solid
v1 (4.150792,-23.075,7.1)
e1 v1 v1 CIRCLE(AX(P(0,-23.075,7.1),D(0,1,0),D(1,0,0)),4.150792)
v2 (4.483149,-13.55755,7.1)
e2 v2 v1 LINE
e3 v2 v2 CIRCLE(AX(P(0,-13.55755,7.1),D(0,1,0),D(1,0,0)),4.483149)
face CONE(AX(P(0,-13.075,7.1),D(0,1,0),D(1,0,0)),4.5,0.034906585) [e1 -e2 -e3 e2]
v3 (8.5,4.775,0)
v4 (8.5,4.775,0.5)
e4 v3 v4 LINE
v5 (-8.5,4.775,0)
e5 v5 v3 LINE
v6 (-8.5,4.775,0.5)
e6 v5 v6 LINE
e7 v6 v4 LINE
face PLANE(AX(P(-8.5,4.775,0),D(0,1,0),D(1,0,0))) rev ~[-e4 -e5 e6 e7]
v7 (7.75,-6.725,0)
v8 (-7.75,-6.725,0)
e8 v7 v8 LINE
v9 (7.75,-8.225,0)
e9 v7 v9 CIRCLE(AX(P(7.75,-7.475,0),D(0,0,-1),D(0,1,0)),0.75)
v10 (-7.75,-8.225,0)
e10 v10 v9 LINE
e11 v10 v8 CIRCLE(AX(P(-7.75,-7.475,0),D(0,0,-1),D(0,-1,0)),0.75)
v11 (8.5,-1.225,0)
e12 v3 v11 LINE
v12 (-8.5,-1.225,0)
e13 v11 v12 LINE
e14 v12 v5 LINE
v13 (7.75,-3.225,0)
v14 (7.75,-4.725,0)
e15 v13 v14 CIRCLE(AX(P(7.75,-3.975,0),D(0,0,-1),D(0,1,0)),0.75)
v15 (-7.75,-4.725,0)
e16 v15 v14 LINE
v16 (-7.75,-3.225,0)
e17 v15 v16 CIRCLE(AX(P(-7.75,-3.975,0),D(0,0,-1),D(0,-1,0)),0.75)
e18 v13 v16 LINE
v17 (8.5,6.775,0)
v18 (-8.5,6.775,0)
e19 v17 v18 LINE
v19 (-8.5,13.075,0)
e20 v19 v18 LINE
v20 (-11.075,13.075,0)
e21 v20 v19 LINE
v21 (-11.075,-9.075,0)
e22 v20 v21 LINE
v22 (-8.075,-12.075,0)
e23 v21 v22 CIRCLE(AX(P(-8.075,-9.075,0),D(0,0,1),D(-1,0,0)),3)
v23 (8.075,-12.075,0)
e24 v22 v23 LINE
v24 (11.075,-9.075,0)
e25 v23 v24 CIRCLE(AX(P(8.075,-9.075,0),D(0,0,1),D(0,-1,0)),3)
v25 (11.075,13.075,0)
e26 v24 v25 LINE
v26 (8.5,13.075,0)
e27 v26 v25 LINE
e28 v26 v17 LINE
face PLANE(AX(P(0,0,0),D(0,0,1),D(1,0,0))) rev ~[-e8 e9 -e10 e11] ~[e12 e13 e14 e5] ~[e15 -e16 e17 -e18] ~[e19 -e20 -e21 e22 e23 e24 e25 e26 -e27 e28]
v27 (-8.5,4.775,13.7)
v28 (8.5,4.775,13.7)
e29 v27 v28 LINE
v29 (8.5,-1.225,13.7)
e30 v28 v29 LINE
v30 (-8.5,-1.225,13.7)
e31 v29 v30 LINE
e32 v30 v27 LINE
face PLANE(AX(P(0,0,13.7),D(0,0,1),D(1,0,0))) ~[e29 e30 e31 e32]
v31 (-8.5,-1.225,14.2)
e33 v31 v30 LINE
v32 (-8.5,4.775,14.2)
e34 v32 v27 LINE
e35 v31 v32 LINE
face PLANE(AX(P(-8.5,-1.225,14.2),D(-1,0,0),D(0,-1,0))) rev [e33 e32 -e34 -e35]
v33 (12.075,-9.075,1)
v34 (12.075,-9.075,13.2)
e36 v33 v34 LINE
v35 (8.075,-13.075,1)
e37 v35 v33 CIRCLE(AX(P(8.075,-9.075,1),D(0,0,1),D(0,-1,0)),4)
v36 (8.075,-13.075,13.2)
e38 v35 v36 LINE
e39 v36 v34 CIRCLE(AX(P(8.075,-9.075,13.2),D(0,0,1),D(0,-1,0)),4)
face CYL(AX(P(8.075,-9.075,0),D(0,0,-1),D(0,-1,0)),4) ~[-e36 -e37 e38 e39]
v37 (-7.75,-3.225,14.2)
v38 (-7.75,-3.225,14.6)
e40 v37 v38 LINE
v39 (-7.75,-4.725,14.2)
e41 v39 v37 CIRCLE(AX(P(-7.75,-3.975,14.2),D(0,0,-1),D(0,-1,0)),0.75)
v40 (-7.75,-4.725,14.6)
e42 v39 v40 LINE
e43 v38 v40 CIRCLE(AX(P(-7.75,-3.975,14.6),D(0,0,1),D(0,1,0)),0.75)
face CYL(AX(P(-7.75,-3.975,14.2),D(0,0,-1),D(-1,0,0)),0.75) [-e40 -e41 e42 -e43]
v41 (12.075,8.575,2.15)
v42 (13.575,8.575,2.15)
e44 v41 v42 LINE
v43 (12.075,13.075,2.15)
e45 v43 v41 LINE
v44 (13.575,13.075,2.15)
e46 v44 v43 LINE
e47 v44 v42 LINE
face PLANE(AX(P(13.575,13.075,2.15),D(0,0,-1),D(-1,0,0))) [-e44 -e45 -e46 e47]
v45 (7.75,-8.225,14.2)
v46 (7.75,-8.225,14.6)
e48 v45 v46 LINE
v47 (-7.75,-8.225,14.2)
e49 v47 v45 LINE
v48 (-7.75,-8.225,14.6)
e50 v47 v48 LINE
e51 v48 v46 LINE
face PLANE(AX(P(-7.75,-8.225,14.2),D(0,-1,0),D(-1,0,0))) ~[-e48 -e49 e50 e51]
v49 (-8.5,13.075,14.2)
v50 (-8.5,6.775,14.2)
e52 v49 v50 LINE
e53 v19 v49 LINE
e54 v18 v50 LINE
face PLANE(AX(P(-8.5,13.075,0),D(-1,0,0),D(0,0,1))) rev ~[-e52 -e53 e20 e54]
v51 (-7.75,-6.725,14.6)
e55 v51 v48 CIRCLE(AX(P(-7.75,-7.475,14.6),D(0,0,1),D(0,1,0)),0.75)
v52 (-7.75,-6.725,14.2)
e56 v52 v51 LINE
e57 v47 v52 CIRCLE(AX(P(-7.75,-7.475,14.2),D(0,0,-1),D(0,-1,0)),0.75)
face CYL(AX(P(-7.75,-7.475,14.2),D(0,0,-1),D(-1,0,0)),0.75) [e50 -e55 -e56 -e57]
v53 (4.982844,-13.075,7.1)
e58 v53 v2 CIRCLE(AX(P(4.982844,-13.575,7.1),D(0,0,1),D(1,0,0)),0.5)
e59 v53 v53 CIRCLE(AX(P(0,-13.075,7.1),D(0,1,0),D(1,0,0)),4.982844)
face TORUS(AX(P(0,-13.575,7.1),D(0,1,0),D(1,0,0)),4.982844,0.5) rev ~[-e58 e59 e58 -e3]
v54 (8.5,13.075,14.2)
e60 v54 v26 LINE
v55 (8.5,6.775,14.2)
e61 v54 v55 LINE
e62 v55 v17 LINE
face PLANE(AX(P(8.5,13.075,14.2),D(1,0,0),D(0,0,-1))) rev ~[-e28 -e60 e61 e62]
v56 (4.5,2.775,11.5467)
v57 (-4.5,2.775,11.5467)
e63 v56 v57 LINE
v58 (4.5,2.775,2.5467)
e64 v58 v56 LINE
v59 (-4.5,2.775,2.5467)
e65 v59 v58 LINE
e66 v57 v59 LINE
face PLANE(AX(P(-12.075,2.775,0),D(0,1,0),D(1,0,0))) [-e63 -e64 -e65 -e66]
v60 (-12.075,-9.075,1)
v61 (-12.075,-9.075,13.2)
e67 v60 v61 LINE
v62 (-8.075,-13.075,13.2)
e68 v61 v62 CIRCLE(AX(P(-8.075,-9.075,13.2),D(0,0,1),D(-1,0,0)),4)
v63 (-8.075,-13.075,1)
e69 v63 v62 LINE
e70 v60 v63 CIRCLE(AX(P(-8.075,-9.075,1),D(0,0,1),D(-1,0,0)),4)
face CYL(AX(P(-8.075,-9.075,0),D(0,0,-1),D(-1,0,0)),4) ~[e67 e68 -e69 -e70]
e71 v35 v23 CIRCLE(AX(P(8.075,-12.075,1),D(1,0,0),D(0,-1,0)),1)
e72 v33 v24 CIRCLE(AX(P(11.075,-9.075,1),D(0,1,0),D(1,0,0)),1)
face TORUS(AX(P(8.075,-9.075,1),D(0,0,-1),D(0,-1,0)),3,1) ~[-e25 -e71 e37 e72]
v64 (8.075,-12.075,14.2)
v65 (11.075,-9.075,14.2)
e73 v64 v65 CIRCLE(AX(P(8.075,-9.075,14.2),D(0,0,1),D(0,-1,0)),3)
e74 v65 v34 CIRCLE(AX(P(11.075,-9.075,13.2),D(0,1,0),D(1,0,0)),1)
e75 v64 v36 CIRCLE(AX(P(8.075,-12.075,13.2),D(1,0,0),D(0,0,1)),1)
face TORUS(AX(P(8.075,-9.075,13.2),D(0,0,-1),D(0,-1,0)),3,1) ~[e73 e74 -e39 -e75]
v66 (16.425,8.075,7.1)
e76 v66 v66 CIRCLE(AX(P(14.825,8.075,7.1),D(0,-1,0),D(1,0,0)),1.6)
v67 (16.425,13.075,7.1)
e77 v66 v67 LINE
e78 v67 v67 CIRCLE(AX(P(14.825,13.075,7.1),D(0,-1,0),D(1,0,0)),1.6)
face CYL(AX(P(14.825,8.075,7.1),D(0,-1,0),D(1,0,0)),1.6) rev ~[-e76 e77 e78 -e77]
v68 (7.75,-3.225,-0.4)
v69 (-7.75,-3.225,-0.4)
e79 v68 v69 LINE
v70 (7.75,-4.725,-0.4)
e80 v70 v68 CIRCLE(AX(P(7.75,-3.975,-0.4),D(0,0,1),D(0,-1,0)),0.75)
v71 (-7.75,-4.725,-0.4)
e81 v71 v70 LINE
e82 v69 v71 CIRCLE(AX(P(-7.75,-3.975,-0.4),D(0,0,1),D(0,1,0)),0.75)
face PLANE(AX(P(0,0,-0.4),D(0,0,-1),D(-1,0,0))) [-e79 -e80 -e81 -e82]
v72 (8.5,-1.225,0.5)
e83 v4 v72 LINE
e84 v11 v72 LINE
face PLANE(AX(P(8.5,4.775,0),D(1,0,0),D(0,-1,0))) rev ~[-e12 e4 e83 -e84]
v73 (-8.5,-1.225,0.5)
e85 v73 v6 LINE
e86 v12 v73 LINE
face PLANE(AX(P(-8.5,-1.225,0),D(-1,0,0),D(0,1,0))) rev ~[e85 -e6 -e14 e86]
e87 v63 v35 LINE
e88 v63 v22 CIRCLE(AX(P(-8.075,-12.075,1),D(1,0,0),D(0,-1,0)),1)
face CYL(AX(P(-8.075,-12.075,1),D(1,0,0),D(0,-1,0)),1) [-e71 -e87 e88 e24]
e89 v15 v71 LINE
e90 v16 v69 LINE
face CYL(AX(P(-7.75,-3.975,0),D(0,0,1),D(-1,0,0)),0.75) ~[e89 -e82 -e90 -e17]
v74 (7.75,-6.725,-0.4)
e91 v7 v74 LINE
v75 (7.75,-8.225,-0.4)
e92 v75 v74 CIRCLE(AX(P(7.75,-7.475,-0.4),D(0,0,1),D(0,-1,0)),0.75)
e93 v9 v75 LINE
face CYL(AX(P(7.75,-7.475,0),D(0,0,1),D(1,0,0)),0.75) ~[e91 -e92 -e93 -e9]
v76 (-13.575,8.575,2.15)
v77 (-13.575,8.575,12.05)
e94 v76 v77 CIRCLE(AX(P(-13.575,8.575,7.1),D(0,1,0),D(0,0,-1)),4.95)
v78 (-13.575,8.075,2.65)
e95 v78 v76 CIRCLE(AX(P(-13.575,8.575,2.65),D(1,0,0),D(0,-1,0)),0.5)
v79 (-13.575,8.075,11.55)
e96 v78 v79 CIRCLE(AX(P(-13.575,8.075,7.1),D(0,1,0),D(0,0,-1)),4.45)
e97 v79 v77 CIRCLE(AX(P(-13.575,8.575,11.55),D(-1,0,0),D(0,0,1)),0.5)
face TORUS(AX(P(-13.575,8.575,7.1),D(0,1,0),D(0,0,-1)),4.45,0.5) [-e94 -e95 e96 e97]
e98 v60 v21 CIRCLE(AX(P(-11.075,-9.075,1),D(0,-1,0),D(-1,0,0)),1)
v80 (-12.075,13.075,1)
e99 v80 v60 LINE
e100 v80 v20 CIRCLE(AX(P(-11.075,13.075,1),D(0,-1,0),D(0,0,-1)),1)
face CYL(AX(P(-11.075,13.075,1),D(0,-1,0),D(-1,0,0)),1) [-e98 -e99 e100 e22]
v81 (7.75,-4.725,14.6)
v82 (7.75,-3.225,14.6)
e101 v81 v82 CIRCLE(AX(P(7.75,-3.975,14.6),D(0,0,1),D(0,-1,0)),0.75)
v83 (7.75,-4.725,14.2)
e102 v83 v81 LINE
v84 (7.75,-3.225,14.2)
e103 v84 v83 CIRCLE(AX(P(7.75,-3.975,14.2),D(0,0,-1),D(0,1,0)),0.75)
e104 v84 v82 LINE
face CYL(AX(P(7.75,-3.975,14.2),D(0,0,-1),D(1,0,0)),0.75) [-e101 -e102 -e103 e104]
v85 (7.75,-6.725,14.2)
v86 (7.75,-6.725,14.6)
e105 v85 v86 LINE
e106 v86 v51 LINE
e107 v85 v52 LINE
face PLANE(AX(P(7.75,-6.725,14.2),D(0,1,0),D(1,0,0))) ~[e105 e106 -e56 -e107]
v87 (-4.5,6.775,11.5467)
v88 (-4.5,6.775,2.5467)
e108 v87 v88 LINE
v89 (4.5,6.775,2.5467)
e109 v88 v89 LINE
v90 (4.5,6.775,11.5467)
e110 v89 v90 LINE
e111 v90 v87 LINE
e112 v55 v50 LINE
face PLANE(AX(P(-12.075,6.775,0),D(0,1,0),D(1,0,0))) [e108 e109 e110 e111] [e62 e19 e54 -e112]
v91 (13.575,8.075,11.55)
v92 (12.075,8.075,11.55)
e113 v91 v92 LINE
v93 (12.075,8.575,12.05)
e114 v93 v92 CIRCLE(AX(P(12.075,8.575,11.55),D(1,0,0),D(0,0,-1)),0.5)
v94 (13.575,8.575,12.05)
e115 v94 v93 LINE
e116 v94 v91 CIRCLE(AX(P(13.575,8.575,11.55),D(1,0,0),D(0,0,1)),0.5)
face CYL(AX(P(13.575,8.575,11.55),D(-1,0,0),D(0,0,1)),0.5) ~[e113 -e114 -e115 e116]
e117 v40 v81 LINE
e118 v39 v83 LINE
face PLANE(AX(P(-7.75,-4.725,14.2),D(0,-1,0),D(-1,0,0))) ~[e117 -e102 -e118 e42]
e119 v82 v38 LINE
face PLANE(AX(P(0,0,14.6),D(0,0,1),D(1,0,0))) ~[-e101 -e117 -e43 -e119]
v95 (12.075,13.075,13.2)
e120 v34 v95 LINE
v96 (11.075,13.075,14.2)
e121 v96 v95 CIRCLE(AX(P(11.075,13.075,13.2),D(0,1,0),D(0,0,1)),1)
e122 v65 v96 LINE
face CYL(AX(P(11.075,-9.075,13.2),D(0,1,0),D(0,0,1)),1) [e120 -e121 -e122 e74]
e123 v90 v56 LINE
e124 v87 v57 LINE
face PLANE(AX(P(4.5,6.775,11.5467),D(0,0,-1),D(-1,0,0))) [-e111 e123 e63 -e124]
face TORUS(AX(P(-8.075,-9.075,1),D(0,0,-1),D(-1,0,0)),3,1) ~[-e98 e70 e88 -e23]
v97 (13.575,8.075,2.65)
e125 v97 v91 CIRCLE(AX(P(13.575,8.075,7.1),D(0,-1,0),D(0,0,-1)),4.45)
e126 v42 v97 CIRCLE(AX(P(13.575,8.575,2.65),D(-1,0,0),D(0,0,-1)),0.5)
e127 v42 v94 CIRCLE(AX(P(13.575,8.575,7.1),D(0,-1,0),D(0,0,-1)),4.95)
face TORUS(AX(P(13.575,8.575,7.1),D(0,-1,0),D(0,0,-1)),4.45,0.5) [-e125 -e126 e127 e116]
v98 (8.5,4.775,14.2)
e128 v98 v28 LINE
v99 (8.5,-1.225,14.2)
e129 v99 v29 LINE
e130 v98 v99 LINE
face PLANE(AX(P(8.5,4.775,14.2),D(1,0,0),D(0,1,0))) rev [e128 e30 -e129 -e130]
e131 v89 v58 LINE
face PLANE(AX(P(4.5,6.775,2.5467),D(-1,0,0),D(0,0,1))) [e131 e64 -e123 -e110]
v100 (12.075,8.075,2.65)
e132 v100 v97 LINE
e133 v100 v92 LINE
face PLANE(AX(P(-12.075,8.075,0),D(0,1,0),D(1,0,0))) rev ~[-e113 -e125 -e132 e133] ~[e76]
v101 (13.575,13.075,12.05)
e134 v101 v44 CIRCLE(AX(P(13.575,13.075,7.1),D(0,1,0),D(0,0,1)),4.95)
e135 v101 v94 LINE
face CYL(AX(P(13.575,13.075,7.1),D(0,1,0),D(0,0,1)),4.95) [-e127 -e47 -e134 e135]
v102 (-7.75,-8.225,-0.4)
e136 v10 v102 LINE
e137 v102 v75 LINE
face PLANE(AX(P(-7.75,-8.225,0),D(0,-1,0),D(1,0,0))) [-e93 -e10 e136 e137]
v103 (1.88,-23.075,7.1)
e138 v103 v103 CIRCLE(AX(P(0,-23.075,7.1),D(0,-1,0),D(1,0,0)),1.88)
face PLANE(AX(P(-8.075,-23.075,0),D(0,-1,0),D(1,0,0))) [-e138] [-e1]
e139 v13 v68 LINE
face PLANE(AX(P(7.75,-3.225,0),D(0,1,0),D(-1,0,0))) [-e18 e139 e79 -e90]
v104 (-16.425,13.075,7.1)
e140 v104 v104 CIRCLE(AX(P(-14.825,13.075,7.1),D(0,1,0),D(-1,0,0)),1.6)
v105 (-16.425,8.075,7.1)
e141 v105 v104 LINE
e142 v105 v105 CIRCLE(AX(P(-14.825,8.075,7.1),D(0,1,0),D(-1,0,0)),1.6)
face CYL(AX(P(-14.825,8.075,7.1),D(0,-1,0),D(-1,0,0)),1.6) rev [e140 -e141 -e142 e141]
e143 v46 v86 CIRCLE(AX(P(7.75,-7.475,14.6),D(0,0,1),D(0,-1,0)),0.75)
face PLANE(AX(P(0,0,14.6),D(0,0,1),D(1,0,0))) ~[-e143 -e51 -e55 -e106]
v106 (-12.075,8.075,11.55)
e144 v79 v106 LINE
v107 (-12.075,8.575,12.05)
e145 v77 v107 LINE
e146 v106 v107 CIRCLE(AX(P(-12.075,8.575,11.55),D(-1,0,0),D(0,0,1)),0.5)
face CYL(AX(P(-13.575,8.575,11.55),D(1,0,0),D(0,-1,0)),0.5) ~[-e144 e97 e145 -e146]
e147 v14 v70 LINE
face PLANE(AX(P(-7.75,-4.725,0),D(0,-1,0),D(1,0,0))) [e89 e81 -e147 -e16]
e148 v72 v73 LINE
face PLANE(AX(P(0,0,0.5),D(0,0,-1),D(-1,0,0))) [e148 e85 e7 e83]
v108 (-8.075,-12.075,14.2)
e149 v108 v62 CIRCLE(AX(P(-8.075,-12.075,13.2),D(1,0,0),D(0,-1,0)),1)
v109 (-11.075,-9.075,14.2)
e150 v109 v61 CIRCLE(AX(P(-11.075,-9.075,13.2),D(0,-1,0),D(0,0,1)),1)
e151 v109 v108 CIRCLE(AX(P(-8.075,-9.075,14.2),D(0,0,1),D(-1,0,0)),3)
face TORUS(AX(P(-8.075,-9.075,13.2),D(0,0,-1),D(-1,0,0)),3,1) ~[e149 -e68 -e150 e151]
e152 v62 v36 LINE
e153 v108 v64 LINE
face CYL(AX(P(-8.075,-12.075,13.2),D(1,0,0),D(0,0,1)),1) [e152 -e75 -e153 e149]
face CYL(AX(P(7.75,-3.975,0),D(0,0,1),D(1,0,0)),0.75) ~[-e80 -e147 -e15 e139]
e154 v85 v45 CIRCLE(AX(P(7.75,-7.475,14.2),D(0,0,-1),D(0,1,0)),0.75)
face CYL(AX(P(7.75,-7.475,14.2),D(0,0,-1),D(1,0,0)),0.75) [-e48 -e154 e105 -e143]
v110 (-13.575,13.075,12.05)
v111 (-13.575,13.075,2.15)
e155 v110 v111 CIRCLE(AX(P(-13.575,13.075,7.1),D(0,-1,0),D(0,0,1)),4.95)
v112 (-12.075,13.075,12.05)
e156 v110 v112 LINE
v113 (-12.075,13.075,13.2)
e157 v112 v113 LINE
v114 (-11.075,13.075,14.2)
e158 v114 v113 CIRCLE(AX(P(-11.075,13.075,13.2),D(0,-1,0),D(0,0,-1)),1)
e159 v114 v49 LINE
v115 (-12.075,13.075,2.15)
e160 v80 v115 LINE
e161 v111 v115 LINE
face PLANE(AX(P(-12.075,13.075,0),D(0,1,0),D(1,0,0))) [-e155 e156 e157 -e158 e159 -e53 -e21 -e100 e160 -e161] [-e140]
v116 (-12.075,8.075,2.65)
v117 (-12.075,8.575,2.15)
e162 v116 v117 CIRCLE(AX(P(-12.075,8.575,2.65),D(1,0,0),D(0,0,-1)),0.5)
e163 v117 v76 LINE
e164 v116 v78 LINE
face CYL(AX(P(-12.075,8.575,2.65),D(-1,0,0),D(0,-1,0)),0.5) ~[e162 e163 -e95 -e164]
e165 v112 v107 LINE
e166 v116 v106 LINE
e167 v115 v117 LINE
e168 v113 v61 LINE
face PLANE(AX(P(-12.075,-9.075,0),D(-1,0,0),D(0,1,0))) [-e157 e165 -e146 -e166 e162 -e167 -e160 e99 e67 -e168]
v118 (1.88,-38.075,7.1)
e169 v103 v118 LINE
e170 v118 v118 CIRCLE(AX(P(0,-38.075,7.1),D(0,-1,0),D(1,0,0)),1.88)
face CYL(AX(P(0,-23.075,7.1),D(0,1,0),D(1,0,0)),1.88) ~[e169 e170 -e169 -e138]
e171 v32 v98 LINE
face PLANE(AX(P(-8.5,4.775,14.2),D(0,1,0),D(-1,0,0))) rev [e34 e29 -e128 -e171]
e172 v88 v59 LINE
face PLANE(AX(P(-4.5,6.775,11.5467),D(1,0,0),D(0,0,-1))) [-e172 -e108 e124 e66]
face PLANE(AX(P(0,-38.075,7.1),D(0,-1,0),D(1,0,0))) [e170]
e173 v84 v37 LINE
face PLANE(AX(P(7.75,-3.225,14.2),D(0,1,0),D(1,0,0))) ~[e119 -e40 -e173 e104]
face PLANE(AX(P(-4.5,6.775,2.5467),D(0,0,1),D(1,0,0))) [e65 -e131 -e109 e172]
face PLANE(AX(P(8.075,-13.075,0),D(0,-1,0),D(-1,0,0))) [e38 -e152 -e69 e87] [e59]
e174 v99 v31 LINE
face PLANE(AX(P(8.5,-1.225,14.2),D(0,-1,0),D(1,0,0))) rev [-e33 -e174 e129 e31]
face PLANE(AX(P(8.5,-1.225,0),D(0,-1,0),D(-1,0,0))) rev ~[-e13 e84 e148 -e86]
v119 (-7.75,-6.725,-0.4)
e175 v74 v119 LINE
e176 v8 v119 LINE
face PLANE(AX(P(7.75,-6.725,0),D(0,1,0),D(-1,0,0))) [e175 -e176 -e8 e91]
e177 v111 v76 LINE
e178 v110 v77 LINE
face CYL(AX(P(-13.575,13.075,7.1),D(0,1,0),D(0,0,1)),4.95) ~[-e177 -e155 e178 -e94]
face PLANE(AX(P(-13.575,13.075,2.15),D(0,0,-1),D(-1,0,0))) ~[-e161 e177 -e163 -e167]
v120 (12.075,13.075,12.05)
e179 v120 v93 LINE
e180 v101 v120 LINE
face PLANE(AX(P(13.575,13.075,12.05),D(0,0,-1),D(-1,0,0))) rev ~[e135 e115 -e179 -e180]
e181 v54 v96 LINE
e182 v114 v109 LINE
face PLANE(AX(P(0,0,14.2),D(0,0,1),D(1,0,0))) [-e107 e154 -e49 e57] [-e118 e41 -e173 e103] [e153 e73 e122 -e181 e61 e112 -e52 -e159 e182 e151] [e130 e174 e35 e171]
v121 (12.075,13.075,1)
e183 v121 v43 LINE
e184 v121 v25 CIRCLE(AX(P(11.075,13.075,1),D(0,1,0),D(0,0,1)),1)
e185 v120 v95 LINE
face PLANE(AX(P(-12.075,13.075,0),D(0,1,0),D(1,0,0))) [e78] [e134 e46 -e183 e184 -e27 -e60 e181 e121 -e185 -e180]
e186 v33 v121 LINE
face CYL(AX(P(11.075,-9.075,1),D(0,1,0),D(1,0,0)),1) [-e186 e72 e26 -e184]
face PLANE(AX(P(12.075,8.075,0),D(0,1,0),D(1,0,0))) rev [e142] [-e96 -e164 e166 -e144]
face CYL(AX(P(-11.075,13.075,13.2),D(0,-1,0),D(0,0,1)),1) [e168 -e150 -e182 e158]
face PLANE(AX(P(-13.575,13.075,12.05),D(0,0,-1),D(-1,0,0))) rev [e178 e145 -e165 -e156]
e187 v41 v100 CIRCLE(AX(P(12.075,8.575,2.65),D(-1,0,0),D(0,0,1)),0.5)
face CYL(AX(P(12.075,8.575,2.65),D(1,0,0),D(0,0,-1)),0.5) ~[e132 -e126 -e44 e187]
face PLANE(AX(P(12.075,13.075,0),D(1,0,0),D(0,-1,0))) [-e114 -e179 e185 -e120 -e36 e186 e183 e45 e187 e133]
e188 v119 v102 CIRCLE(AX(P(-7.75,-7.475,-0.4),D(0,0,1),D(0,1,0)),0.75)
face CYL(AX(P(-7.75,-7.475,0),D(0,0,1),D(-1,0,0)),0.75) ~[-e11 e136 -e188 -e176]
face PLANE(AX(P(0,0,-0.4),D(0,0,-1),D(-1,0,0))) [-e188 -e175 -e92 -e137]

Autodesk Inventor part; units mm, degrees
ref_plane "YZ Plane" through (0, 0, 0) normal (1, 0, 0) x (0, 1, 0)
ref_plane "XZ Plane" through (0, 0, 0) normal (0, 1, 0) x (-1, 0, 0)
sketch "Sketch1" plane through (0, 0, 0) normal (0, 0, 1) x (1, 0, 0)
  line L0 (8.075, -13.075) -> (-8.075, -13.075)
  line L1 (-12.075, -9.075) -> (-12.075, 13.075)
  line L2 (-12.075, 13.075) -> (12.075, 13.075)
  line L3 (12.075, 13.075) -> (12.075, -9.075)
  line L4 (12.075, -13.075) -> (-12.075, 13.075) construction
  line L5 (-12.075, -13.075) -> (12.075, 13.075) construction
  arc A0 (-12.075, -9.075) -> (-8.075, -13.075) centre (-8.075, -9.075) ccw
  arc A1 (8.075, -13.075) -> (12.075, -9.075) centre (8.075, -9.075) ccw
  point P0 (0, 0)
  dimension "d0" = 24.15
  dimension "d1" = 26.15
  dimension "d2" = 4
extrude "Extrusion1" add sketch "Sketch1" along normal blind 14.2
sketch "Sketch2" plane through (-12.075, 13.075, 0) normal (0, 1, 0) x (1, 0, 0)
  line L0 (24.15, 0) -> (24.15, -14.2) construction
  line L1 (24.15, 0) -> (0, 0) construction
  line L2 (4, -14.2) -> (20.15, -14.2) construction
  line L3 (12.075, -14.2) -> (12.075, 8.7449) construction
  arc A0 (25.65, -12.05) -> (25.65, -2.15) centre (25.65, -7.1) ccw
  line L4 (24.15, 0) -> (24.15, -14.2) construction
  line L5 (24.15, -7.1) -> (-4.8998, -7.1) construction
  line L6 (30.6, -19.6482) -> (30.6, 9.5146) construction
  line L7 (25.65, -2.15) -> (24.15, -2.15)
  line L8 (25.65, -12.05) -> (24.15, -12.05)
  line L9 (24.15, -2.15) -> (24.15, -12.05)
  point P0 (12.075, 0)
  dimension "d5" = 9.9
  dimension "d6" = 6.45
extrude "Extrusion2" add sketch "Sketch2" against normal blind 5
sketch "Sketch3" plane through (-12.075, 8.075, 0) normal (0, -1, 0) x (1, 0, 0)
  line L0 (24.15, 8.6877) -> (26.9, 10.2754) construction
  line L1 (26.9, 10.2754) -> (29.65, 8.6877) construction
  line L2 (29.65, 8.6877) -> (29.65, 5.5123) construction
  line L3 (29.65, 5.5123) -> (26.9, 3.9246) construction
  line L4 (26.9, 3.9246) -> (24.15, 5.5123) construction
  line L5 (24.15, 5.5123) -> (24.15, 8.6877) construction
  line L6 (24.15, 2.15) -> (24.15, 12.05) construction
  arc A0 (25.65, 2.15) -> (25.65, 12.05) centre (25.65, 7.1) ccw construction
  line L7 (25.65, 7.1) -> (35.3892, 7.1) construction
  line L8 (26.9, 10.2754) -> (26.9, 3.9246) construction
  point P0 (12.075, 0)
  point P1 (26.9, 7.1)
  point P2 (26.9, 7.1)
  dimension "d9" = 5.5
sketch "Sketch4" plane through (-12.075, 8.075, 0) normal (0, -1, 0) x (1, 0, 0)
  circle A0 centre (26.9, 7.1) radius 1.6
  point P0 (12.075, 0)
  dimension "d10" = 3.2
extrude "Extrusion3" cut sketch "Sketch4" against normal blind 5
mirror "Mirror1" about plane through (0, 0, 0) normal (1, 0, 0) of "Extrusion2", "Extrusion3"
sketch "Sketch5" plane through (-12.075, 13.075, 0) normal (0, 1, 0) x (1, 0, 0)
  line L0 (24.15, 0) -> (0, 0) construction
  line L1 (0, 0) -> (0, -2.15) construction
  line L2 (24.15, -14.2) -> (0, -14.2) projected
  line L3 (20.575, 0) -> (3.575, 0)
  line L4 (3.575, 0) -> (3.575, -14.2)
  line L5 (3.575, -14.2) -> (20.575, -14.2)
  line L6 (20.575, -14.2) -> (20.575, 0)
  line L7 (12.075, 0) -> (12.075, -22.6768) construction
  dimension "d13" = 17
extrude "Extrusion4" cut sketch "Sketch5" against normal blind 6.3
sketch "Sketch6" plane through (-8.075, -13.075, 0) normal (0, -1, 0) x (1, 0, 0)
  circle A0 centre (8.075, 7.1) radius 4.5
  line L0 (0, 0) -> (16.15, 0) construction
  line L1 (20.15, 0) -> (20.15, 14.2) construction
  point P0 (8.075, 0)
  dimension "d16" = 9
  dimension "d17" = 7.1
  dimension "d18" = 12.075
extrude "Extrusion5" add sketch "Sketch6" along normal blind 10 draft -2
sketch "Sketch7" plane through (0, -23.075, 7.1) normal (0, -1, 0) x (1, 0, 0)
  circle A0 centre (0, 0) radius 4.1508 projected
  circle A1 centre (0, 0) radius 1.88
  point P0 (0, -7.1)
  dimension "d21" = 3.76
extrude "Extrusion6" add sketch "Sketch7" along normal blind 15 contours A1
sketch "Sketch8" plane through (-12.075, 6.775, 0) normal (0, 1, 0) x (1, 0, 0)
  line L0 (3.575, -14.2) -> (3.575, 0) construction
  line L1 (3.575, 0) -> (20.575, 0) construction
  circle A0 centre (12.075, -7.1) radius 1.88 construction
  line L2 (18.135, -12.625) -> (6.015, -12.625)
  line L3 (6.015, -12.625) -> (6.015, -1.575)
  line L4 (6.015, -1.575) -> (18.135, -1.575)
  line L5 (18.135, -1.575) -> (18.135, -12.625)
  line L6 (18.135, -12.625) -> (6.015, -1.575) construction
  line L7 (6.015, -12.625) -> (18.135, -1.575) construction
  point P0 (12.075, 0)
  dimension "d24" = 12.12
  dimension "d25" = 11.05
fillet "Fillet1" radius 1 10 edges at (-10.9034, -11.9034, 0) (0, -13.075, 0) (10.9034, -11.9034, 0) (12.075, 2, 0) (-12.075, 2, 0) (-10.9034, -11.9034, 14.2) (0, -13.075, 14.2) (10.9034, -11.9034, 14.2) (12.075, 2, 14.2) (-12.075, 2, 14.2)
sketch "Sketch9" plane through (0, 0, 0) normal (0, 0, -1) x (-1, 0, 0)
  line L0 (0, -48.305) -> (0, 23.305) construction
  line L1 (8.5, 4.775) -> (-8.5, 4.775)
  line L2 (-8.5, 4.775) -> (-8.5, -1.225)
  line L3 (-8.5, -1.225) -> (8.5, -1.225)
  line L4 (8.5, -1.225) -> (8.5, 4.775)
  line L5 (8.5, 4.775) -> (-8.5, -1.225) construction
  line L6 (-8.5, 4.775) -> (8.5, -1.225) construction
  line L7 (-8.5, 6.775) -> (8.5, 6.775) projected
  point P0 (0, 0)
  point P1 (0, 1.775)
  dimension "d27" = 17
  dimension "d28" = 6
  dimension "d29" = 2
extrude "Extrusion7" cut sketch "Sketch9" against normal blind 0.5
sketch "Sketch10" plane through (0, 0, 0) normal (0, 0, -1) x (-1, 0, 0)
  line L0 (8.5, -1.225) -> (-8.5, -1.225) construction
  line L1 (0, -48.305) -> (0, 23.305) construction
  line L2 (-7.75, -3.225) -> (7.75, -3.225)
  line L3 (8.5, -3.975) -> (8.5, -3.975)
  line L4 (7.75, -4.725) -> (-7.75, -4.725)
  line L5 (-8.5, -3.975) -> (-8.5, -3.975)
  line L6 (-8.5, -3.225) -> (8.5, -4.725) construction
  line L7 (8.5, -3.225) -> (-8.5, -4.725) construction
  line L8 (-7.75, -6.725) -> (7.75, -6.725)
  line L9 (8.5, -7.475) -> (8.5, -7.475)
  line L10 (7.75, -8.225) -> (-7.75, -8.225)
  line L11 (-8.5, -7.475) -> (-8.5, -7.475)
  line L12 (-8.5, -6.725) -> (8.5, -8.225) construction
  line L13 (8.5, -6.725) -> (-8.5, -8.225) construction
  arc A0 (7.75, -8.225) -> (8.5, -7.475) centre (7.75, -7.475) ccw
  arc A1 (8.5, -7.475) -> (7.75, -6.725) centre (7.75, -7.475) ccw
  arc A2 (-8.5, -7.475) -> (-7.75, -8.225) centre (-7.75, -7.475) ccw
  arc A3 (-7.75, -6.725) -> (-8.5, -7.475) centre (-7.75, -7.475) ccw
  arc A4 (-8.5, -3.975) -> (-7.75, -4.725) centre (-7.75, -3.975) ccw
  arc A5 (-7.75, -3.225) -> (-8.5, -3.975) centre (-7.75, -3.975) ccw
  arc A6 (8.5, -3.975) -> (7.75, -3.225) centre (7.75, -3.975) ccw
  arc A7 (7.75, -4.725) -> (8.5, -3.975) centre (7.75, -3.975) ccw
  point P0 (0, 0)
  point P1 (0, -3.975)
  point P2 (0, -7.475)
  dimension "d32" = 17
  dimension "d33" = 1.5
  dimension "d34" = 2
  dimension "d35" = 17
  dimension "d36" = 1.5
  dimension "d37" = 2
  dimension "d38" = 0.75
extrude "Extrusion8" add sketch "Sketch10" along normal blind 0.4
ref_plane "Work Plane1" through (12.075, 8.075, 7.1) normal (0, 0, -1) x (-1, 0, 0)
mirror "Mirror2" about plane through (12.075, 8.075, 7.1) normal (0, 0, -1) of "Extrusion7", "Extrusion8"
fillet "Fillet2" radius 0.5 1 edges at (-4.5, -13.075, 7.1)
fillet "Fillet3" radius 0.5 6 edges at (-12.825, 8.075, 12.05) (-12.825, 8.075, 2.15) (-18.525, 8.075, 7.1) (12.825, 8.075, 12.05) (12.825, 8.075, 2.15) (18.525, 8.075, 7.1)
sketch "Sketch11" plane through (-12.075, 6.775, 0) normal (0, 1, 0) x (1, 0, 0)
  line L0 (7.575, -2.5467) -> (16.575, -2.5467)
  line L1 (16.575, -2.5467) -> (16.575, -11.5467)
  line L2 (16.575, -11.5467) -> (7.575, -11.5467)
  line L3 (7.575, -11.5467) -> (7.575, -2.5467)
  line L4 (7.575, -2.5467) -> (16.575, -11.5467) construction
  line L5 (16.575, -2.5467) -> (7.575, -11.5467) construction
  point P0 (12.075, 0)
  point P1 (12.075, -7.0467)
  dimension "d43" = 9
  dimension "d44" = 9
extrude "Extrusion9" cut sketch "Sketch11" against normal blind 4
properties part number "USB Cable B Male to B Female 90 degrees" material "Nylon 6/6"
